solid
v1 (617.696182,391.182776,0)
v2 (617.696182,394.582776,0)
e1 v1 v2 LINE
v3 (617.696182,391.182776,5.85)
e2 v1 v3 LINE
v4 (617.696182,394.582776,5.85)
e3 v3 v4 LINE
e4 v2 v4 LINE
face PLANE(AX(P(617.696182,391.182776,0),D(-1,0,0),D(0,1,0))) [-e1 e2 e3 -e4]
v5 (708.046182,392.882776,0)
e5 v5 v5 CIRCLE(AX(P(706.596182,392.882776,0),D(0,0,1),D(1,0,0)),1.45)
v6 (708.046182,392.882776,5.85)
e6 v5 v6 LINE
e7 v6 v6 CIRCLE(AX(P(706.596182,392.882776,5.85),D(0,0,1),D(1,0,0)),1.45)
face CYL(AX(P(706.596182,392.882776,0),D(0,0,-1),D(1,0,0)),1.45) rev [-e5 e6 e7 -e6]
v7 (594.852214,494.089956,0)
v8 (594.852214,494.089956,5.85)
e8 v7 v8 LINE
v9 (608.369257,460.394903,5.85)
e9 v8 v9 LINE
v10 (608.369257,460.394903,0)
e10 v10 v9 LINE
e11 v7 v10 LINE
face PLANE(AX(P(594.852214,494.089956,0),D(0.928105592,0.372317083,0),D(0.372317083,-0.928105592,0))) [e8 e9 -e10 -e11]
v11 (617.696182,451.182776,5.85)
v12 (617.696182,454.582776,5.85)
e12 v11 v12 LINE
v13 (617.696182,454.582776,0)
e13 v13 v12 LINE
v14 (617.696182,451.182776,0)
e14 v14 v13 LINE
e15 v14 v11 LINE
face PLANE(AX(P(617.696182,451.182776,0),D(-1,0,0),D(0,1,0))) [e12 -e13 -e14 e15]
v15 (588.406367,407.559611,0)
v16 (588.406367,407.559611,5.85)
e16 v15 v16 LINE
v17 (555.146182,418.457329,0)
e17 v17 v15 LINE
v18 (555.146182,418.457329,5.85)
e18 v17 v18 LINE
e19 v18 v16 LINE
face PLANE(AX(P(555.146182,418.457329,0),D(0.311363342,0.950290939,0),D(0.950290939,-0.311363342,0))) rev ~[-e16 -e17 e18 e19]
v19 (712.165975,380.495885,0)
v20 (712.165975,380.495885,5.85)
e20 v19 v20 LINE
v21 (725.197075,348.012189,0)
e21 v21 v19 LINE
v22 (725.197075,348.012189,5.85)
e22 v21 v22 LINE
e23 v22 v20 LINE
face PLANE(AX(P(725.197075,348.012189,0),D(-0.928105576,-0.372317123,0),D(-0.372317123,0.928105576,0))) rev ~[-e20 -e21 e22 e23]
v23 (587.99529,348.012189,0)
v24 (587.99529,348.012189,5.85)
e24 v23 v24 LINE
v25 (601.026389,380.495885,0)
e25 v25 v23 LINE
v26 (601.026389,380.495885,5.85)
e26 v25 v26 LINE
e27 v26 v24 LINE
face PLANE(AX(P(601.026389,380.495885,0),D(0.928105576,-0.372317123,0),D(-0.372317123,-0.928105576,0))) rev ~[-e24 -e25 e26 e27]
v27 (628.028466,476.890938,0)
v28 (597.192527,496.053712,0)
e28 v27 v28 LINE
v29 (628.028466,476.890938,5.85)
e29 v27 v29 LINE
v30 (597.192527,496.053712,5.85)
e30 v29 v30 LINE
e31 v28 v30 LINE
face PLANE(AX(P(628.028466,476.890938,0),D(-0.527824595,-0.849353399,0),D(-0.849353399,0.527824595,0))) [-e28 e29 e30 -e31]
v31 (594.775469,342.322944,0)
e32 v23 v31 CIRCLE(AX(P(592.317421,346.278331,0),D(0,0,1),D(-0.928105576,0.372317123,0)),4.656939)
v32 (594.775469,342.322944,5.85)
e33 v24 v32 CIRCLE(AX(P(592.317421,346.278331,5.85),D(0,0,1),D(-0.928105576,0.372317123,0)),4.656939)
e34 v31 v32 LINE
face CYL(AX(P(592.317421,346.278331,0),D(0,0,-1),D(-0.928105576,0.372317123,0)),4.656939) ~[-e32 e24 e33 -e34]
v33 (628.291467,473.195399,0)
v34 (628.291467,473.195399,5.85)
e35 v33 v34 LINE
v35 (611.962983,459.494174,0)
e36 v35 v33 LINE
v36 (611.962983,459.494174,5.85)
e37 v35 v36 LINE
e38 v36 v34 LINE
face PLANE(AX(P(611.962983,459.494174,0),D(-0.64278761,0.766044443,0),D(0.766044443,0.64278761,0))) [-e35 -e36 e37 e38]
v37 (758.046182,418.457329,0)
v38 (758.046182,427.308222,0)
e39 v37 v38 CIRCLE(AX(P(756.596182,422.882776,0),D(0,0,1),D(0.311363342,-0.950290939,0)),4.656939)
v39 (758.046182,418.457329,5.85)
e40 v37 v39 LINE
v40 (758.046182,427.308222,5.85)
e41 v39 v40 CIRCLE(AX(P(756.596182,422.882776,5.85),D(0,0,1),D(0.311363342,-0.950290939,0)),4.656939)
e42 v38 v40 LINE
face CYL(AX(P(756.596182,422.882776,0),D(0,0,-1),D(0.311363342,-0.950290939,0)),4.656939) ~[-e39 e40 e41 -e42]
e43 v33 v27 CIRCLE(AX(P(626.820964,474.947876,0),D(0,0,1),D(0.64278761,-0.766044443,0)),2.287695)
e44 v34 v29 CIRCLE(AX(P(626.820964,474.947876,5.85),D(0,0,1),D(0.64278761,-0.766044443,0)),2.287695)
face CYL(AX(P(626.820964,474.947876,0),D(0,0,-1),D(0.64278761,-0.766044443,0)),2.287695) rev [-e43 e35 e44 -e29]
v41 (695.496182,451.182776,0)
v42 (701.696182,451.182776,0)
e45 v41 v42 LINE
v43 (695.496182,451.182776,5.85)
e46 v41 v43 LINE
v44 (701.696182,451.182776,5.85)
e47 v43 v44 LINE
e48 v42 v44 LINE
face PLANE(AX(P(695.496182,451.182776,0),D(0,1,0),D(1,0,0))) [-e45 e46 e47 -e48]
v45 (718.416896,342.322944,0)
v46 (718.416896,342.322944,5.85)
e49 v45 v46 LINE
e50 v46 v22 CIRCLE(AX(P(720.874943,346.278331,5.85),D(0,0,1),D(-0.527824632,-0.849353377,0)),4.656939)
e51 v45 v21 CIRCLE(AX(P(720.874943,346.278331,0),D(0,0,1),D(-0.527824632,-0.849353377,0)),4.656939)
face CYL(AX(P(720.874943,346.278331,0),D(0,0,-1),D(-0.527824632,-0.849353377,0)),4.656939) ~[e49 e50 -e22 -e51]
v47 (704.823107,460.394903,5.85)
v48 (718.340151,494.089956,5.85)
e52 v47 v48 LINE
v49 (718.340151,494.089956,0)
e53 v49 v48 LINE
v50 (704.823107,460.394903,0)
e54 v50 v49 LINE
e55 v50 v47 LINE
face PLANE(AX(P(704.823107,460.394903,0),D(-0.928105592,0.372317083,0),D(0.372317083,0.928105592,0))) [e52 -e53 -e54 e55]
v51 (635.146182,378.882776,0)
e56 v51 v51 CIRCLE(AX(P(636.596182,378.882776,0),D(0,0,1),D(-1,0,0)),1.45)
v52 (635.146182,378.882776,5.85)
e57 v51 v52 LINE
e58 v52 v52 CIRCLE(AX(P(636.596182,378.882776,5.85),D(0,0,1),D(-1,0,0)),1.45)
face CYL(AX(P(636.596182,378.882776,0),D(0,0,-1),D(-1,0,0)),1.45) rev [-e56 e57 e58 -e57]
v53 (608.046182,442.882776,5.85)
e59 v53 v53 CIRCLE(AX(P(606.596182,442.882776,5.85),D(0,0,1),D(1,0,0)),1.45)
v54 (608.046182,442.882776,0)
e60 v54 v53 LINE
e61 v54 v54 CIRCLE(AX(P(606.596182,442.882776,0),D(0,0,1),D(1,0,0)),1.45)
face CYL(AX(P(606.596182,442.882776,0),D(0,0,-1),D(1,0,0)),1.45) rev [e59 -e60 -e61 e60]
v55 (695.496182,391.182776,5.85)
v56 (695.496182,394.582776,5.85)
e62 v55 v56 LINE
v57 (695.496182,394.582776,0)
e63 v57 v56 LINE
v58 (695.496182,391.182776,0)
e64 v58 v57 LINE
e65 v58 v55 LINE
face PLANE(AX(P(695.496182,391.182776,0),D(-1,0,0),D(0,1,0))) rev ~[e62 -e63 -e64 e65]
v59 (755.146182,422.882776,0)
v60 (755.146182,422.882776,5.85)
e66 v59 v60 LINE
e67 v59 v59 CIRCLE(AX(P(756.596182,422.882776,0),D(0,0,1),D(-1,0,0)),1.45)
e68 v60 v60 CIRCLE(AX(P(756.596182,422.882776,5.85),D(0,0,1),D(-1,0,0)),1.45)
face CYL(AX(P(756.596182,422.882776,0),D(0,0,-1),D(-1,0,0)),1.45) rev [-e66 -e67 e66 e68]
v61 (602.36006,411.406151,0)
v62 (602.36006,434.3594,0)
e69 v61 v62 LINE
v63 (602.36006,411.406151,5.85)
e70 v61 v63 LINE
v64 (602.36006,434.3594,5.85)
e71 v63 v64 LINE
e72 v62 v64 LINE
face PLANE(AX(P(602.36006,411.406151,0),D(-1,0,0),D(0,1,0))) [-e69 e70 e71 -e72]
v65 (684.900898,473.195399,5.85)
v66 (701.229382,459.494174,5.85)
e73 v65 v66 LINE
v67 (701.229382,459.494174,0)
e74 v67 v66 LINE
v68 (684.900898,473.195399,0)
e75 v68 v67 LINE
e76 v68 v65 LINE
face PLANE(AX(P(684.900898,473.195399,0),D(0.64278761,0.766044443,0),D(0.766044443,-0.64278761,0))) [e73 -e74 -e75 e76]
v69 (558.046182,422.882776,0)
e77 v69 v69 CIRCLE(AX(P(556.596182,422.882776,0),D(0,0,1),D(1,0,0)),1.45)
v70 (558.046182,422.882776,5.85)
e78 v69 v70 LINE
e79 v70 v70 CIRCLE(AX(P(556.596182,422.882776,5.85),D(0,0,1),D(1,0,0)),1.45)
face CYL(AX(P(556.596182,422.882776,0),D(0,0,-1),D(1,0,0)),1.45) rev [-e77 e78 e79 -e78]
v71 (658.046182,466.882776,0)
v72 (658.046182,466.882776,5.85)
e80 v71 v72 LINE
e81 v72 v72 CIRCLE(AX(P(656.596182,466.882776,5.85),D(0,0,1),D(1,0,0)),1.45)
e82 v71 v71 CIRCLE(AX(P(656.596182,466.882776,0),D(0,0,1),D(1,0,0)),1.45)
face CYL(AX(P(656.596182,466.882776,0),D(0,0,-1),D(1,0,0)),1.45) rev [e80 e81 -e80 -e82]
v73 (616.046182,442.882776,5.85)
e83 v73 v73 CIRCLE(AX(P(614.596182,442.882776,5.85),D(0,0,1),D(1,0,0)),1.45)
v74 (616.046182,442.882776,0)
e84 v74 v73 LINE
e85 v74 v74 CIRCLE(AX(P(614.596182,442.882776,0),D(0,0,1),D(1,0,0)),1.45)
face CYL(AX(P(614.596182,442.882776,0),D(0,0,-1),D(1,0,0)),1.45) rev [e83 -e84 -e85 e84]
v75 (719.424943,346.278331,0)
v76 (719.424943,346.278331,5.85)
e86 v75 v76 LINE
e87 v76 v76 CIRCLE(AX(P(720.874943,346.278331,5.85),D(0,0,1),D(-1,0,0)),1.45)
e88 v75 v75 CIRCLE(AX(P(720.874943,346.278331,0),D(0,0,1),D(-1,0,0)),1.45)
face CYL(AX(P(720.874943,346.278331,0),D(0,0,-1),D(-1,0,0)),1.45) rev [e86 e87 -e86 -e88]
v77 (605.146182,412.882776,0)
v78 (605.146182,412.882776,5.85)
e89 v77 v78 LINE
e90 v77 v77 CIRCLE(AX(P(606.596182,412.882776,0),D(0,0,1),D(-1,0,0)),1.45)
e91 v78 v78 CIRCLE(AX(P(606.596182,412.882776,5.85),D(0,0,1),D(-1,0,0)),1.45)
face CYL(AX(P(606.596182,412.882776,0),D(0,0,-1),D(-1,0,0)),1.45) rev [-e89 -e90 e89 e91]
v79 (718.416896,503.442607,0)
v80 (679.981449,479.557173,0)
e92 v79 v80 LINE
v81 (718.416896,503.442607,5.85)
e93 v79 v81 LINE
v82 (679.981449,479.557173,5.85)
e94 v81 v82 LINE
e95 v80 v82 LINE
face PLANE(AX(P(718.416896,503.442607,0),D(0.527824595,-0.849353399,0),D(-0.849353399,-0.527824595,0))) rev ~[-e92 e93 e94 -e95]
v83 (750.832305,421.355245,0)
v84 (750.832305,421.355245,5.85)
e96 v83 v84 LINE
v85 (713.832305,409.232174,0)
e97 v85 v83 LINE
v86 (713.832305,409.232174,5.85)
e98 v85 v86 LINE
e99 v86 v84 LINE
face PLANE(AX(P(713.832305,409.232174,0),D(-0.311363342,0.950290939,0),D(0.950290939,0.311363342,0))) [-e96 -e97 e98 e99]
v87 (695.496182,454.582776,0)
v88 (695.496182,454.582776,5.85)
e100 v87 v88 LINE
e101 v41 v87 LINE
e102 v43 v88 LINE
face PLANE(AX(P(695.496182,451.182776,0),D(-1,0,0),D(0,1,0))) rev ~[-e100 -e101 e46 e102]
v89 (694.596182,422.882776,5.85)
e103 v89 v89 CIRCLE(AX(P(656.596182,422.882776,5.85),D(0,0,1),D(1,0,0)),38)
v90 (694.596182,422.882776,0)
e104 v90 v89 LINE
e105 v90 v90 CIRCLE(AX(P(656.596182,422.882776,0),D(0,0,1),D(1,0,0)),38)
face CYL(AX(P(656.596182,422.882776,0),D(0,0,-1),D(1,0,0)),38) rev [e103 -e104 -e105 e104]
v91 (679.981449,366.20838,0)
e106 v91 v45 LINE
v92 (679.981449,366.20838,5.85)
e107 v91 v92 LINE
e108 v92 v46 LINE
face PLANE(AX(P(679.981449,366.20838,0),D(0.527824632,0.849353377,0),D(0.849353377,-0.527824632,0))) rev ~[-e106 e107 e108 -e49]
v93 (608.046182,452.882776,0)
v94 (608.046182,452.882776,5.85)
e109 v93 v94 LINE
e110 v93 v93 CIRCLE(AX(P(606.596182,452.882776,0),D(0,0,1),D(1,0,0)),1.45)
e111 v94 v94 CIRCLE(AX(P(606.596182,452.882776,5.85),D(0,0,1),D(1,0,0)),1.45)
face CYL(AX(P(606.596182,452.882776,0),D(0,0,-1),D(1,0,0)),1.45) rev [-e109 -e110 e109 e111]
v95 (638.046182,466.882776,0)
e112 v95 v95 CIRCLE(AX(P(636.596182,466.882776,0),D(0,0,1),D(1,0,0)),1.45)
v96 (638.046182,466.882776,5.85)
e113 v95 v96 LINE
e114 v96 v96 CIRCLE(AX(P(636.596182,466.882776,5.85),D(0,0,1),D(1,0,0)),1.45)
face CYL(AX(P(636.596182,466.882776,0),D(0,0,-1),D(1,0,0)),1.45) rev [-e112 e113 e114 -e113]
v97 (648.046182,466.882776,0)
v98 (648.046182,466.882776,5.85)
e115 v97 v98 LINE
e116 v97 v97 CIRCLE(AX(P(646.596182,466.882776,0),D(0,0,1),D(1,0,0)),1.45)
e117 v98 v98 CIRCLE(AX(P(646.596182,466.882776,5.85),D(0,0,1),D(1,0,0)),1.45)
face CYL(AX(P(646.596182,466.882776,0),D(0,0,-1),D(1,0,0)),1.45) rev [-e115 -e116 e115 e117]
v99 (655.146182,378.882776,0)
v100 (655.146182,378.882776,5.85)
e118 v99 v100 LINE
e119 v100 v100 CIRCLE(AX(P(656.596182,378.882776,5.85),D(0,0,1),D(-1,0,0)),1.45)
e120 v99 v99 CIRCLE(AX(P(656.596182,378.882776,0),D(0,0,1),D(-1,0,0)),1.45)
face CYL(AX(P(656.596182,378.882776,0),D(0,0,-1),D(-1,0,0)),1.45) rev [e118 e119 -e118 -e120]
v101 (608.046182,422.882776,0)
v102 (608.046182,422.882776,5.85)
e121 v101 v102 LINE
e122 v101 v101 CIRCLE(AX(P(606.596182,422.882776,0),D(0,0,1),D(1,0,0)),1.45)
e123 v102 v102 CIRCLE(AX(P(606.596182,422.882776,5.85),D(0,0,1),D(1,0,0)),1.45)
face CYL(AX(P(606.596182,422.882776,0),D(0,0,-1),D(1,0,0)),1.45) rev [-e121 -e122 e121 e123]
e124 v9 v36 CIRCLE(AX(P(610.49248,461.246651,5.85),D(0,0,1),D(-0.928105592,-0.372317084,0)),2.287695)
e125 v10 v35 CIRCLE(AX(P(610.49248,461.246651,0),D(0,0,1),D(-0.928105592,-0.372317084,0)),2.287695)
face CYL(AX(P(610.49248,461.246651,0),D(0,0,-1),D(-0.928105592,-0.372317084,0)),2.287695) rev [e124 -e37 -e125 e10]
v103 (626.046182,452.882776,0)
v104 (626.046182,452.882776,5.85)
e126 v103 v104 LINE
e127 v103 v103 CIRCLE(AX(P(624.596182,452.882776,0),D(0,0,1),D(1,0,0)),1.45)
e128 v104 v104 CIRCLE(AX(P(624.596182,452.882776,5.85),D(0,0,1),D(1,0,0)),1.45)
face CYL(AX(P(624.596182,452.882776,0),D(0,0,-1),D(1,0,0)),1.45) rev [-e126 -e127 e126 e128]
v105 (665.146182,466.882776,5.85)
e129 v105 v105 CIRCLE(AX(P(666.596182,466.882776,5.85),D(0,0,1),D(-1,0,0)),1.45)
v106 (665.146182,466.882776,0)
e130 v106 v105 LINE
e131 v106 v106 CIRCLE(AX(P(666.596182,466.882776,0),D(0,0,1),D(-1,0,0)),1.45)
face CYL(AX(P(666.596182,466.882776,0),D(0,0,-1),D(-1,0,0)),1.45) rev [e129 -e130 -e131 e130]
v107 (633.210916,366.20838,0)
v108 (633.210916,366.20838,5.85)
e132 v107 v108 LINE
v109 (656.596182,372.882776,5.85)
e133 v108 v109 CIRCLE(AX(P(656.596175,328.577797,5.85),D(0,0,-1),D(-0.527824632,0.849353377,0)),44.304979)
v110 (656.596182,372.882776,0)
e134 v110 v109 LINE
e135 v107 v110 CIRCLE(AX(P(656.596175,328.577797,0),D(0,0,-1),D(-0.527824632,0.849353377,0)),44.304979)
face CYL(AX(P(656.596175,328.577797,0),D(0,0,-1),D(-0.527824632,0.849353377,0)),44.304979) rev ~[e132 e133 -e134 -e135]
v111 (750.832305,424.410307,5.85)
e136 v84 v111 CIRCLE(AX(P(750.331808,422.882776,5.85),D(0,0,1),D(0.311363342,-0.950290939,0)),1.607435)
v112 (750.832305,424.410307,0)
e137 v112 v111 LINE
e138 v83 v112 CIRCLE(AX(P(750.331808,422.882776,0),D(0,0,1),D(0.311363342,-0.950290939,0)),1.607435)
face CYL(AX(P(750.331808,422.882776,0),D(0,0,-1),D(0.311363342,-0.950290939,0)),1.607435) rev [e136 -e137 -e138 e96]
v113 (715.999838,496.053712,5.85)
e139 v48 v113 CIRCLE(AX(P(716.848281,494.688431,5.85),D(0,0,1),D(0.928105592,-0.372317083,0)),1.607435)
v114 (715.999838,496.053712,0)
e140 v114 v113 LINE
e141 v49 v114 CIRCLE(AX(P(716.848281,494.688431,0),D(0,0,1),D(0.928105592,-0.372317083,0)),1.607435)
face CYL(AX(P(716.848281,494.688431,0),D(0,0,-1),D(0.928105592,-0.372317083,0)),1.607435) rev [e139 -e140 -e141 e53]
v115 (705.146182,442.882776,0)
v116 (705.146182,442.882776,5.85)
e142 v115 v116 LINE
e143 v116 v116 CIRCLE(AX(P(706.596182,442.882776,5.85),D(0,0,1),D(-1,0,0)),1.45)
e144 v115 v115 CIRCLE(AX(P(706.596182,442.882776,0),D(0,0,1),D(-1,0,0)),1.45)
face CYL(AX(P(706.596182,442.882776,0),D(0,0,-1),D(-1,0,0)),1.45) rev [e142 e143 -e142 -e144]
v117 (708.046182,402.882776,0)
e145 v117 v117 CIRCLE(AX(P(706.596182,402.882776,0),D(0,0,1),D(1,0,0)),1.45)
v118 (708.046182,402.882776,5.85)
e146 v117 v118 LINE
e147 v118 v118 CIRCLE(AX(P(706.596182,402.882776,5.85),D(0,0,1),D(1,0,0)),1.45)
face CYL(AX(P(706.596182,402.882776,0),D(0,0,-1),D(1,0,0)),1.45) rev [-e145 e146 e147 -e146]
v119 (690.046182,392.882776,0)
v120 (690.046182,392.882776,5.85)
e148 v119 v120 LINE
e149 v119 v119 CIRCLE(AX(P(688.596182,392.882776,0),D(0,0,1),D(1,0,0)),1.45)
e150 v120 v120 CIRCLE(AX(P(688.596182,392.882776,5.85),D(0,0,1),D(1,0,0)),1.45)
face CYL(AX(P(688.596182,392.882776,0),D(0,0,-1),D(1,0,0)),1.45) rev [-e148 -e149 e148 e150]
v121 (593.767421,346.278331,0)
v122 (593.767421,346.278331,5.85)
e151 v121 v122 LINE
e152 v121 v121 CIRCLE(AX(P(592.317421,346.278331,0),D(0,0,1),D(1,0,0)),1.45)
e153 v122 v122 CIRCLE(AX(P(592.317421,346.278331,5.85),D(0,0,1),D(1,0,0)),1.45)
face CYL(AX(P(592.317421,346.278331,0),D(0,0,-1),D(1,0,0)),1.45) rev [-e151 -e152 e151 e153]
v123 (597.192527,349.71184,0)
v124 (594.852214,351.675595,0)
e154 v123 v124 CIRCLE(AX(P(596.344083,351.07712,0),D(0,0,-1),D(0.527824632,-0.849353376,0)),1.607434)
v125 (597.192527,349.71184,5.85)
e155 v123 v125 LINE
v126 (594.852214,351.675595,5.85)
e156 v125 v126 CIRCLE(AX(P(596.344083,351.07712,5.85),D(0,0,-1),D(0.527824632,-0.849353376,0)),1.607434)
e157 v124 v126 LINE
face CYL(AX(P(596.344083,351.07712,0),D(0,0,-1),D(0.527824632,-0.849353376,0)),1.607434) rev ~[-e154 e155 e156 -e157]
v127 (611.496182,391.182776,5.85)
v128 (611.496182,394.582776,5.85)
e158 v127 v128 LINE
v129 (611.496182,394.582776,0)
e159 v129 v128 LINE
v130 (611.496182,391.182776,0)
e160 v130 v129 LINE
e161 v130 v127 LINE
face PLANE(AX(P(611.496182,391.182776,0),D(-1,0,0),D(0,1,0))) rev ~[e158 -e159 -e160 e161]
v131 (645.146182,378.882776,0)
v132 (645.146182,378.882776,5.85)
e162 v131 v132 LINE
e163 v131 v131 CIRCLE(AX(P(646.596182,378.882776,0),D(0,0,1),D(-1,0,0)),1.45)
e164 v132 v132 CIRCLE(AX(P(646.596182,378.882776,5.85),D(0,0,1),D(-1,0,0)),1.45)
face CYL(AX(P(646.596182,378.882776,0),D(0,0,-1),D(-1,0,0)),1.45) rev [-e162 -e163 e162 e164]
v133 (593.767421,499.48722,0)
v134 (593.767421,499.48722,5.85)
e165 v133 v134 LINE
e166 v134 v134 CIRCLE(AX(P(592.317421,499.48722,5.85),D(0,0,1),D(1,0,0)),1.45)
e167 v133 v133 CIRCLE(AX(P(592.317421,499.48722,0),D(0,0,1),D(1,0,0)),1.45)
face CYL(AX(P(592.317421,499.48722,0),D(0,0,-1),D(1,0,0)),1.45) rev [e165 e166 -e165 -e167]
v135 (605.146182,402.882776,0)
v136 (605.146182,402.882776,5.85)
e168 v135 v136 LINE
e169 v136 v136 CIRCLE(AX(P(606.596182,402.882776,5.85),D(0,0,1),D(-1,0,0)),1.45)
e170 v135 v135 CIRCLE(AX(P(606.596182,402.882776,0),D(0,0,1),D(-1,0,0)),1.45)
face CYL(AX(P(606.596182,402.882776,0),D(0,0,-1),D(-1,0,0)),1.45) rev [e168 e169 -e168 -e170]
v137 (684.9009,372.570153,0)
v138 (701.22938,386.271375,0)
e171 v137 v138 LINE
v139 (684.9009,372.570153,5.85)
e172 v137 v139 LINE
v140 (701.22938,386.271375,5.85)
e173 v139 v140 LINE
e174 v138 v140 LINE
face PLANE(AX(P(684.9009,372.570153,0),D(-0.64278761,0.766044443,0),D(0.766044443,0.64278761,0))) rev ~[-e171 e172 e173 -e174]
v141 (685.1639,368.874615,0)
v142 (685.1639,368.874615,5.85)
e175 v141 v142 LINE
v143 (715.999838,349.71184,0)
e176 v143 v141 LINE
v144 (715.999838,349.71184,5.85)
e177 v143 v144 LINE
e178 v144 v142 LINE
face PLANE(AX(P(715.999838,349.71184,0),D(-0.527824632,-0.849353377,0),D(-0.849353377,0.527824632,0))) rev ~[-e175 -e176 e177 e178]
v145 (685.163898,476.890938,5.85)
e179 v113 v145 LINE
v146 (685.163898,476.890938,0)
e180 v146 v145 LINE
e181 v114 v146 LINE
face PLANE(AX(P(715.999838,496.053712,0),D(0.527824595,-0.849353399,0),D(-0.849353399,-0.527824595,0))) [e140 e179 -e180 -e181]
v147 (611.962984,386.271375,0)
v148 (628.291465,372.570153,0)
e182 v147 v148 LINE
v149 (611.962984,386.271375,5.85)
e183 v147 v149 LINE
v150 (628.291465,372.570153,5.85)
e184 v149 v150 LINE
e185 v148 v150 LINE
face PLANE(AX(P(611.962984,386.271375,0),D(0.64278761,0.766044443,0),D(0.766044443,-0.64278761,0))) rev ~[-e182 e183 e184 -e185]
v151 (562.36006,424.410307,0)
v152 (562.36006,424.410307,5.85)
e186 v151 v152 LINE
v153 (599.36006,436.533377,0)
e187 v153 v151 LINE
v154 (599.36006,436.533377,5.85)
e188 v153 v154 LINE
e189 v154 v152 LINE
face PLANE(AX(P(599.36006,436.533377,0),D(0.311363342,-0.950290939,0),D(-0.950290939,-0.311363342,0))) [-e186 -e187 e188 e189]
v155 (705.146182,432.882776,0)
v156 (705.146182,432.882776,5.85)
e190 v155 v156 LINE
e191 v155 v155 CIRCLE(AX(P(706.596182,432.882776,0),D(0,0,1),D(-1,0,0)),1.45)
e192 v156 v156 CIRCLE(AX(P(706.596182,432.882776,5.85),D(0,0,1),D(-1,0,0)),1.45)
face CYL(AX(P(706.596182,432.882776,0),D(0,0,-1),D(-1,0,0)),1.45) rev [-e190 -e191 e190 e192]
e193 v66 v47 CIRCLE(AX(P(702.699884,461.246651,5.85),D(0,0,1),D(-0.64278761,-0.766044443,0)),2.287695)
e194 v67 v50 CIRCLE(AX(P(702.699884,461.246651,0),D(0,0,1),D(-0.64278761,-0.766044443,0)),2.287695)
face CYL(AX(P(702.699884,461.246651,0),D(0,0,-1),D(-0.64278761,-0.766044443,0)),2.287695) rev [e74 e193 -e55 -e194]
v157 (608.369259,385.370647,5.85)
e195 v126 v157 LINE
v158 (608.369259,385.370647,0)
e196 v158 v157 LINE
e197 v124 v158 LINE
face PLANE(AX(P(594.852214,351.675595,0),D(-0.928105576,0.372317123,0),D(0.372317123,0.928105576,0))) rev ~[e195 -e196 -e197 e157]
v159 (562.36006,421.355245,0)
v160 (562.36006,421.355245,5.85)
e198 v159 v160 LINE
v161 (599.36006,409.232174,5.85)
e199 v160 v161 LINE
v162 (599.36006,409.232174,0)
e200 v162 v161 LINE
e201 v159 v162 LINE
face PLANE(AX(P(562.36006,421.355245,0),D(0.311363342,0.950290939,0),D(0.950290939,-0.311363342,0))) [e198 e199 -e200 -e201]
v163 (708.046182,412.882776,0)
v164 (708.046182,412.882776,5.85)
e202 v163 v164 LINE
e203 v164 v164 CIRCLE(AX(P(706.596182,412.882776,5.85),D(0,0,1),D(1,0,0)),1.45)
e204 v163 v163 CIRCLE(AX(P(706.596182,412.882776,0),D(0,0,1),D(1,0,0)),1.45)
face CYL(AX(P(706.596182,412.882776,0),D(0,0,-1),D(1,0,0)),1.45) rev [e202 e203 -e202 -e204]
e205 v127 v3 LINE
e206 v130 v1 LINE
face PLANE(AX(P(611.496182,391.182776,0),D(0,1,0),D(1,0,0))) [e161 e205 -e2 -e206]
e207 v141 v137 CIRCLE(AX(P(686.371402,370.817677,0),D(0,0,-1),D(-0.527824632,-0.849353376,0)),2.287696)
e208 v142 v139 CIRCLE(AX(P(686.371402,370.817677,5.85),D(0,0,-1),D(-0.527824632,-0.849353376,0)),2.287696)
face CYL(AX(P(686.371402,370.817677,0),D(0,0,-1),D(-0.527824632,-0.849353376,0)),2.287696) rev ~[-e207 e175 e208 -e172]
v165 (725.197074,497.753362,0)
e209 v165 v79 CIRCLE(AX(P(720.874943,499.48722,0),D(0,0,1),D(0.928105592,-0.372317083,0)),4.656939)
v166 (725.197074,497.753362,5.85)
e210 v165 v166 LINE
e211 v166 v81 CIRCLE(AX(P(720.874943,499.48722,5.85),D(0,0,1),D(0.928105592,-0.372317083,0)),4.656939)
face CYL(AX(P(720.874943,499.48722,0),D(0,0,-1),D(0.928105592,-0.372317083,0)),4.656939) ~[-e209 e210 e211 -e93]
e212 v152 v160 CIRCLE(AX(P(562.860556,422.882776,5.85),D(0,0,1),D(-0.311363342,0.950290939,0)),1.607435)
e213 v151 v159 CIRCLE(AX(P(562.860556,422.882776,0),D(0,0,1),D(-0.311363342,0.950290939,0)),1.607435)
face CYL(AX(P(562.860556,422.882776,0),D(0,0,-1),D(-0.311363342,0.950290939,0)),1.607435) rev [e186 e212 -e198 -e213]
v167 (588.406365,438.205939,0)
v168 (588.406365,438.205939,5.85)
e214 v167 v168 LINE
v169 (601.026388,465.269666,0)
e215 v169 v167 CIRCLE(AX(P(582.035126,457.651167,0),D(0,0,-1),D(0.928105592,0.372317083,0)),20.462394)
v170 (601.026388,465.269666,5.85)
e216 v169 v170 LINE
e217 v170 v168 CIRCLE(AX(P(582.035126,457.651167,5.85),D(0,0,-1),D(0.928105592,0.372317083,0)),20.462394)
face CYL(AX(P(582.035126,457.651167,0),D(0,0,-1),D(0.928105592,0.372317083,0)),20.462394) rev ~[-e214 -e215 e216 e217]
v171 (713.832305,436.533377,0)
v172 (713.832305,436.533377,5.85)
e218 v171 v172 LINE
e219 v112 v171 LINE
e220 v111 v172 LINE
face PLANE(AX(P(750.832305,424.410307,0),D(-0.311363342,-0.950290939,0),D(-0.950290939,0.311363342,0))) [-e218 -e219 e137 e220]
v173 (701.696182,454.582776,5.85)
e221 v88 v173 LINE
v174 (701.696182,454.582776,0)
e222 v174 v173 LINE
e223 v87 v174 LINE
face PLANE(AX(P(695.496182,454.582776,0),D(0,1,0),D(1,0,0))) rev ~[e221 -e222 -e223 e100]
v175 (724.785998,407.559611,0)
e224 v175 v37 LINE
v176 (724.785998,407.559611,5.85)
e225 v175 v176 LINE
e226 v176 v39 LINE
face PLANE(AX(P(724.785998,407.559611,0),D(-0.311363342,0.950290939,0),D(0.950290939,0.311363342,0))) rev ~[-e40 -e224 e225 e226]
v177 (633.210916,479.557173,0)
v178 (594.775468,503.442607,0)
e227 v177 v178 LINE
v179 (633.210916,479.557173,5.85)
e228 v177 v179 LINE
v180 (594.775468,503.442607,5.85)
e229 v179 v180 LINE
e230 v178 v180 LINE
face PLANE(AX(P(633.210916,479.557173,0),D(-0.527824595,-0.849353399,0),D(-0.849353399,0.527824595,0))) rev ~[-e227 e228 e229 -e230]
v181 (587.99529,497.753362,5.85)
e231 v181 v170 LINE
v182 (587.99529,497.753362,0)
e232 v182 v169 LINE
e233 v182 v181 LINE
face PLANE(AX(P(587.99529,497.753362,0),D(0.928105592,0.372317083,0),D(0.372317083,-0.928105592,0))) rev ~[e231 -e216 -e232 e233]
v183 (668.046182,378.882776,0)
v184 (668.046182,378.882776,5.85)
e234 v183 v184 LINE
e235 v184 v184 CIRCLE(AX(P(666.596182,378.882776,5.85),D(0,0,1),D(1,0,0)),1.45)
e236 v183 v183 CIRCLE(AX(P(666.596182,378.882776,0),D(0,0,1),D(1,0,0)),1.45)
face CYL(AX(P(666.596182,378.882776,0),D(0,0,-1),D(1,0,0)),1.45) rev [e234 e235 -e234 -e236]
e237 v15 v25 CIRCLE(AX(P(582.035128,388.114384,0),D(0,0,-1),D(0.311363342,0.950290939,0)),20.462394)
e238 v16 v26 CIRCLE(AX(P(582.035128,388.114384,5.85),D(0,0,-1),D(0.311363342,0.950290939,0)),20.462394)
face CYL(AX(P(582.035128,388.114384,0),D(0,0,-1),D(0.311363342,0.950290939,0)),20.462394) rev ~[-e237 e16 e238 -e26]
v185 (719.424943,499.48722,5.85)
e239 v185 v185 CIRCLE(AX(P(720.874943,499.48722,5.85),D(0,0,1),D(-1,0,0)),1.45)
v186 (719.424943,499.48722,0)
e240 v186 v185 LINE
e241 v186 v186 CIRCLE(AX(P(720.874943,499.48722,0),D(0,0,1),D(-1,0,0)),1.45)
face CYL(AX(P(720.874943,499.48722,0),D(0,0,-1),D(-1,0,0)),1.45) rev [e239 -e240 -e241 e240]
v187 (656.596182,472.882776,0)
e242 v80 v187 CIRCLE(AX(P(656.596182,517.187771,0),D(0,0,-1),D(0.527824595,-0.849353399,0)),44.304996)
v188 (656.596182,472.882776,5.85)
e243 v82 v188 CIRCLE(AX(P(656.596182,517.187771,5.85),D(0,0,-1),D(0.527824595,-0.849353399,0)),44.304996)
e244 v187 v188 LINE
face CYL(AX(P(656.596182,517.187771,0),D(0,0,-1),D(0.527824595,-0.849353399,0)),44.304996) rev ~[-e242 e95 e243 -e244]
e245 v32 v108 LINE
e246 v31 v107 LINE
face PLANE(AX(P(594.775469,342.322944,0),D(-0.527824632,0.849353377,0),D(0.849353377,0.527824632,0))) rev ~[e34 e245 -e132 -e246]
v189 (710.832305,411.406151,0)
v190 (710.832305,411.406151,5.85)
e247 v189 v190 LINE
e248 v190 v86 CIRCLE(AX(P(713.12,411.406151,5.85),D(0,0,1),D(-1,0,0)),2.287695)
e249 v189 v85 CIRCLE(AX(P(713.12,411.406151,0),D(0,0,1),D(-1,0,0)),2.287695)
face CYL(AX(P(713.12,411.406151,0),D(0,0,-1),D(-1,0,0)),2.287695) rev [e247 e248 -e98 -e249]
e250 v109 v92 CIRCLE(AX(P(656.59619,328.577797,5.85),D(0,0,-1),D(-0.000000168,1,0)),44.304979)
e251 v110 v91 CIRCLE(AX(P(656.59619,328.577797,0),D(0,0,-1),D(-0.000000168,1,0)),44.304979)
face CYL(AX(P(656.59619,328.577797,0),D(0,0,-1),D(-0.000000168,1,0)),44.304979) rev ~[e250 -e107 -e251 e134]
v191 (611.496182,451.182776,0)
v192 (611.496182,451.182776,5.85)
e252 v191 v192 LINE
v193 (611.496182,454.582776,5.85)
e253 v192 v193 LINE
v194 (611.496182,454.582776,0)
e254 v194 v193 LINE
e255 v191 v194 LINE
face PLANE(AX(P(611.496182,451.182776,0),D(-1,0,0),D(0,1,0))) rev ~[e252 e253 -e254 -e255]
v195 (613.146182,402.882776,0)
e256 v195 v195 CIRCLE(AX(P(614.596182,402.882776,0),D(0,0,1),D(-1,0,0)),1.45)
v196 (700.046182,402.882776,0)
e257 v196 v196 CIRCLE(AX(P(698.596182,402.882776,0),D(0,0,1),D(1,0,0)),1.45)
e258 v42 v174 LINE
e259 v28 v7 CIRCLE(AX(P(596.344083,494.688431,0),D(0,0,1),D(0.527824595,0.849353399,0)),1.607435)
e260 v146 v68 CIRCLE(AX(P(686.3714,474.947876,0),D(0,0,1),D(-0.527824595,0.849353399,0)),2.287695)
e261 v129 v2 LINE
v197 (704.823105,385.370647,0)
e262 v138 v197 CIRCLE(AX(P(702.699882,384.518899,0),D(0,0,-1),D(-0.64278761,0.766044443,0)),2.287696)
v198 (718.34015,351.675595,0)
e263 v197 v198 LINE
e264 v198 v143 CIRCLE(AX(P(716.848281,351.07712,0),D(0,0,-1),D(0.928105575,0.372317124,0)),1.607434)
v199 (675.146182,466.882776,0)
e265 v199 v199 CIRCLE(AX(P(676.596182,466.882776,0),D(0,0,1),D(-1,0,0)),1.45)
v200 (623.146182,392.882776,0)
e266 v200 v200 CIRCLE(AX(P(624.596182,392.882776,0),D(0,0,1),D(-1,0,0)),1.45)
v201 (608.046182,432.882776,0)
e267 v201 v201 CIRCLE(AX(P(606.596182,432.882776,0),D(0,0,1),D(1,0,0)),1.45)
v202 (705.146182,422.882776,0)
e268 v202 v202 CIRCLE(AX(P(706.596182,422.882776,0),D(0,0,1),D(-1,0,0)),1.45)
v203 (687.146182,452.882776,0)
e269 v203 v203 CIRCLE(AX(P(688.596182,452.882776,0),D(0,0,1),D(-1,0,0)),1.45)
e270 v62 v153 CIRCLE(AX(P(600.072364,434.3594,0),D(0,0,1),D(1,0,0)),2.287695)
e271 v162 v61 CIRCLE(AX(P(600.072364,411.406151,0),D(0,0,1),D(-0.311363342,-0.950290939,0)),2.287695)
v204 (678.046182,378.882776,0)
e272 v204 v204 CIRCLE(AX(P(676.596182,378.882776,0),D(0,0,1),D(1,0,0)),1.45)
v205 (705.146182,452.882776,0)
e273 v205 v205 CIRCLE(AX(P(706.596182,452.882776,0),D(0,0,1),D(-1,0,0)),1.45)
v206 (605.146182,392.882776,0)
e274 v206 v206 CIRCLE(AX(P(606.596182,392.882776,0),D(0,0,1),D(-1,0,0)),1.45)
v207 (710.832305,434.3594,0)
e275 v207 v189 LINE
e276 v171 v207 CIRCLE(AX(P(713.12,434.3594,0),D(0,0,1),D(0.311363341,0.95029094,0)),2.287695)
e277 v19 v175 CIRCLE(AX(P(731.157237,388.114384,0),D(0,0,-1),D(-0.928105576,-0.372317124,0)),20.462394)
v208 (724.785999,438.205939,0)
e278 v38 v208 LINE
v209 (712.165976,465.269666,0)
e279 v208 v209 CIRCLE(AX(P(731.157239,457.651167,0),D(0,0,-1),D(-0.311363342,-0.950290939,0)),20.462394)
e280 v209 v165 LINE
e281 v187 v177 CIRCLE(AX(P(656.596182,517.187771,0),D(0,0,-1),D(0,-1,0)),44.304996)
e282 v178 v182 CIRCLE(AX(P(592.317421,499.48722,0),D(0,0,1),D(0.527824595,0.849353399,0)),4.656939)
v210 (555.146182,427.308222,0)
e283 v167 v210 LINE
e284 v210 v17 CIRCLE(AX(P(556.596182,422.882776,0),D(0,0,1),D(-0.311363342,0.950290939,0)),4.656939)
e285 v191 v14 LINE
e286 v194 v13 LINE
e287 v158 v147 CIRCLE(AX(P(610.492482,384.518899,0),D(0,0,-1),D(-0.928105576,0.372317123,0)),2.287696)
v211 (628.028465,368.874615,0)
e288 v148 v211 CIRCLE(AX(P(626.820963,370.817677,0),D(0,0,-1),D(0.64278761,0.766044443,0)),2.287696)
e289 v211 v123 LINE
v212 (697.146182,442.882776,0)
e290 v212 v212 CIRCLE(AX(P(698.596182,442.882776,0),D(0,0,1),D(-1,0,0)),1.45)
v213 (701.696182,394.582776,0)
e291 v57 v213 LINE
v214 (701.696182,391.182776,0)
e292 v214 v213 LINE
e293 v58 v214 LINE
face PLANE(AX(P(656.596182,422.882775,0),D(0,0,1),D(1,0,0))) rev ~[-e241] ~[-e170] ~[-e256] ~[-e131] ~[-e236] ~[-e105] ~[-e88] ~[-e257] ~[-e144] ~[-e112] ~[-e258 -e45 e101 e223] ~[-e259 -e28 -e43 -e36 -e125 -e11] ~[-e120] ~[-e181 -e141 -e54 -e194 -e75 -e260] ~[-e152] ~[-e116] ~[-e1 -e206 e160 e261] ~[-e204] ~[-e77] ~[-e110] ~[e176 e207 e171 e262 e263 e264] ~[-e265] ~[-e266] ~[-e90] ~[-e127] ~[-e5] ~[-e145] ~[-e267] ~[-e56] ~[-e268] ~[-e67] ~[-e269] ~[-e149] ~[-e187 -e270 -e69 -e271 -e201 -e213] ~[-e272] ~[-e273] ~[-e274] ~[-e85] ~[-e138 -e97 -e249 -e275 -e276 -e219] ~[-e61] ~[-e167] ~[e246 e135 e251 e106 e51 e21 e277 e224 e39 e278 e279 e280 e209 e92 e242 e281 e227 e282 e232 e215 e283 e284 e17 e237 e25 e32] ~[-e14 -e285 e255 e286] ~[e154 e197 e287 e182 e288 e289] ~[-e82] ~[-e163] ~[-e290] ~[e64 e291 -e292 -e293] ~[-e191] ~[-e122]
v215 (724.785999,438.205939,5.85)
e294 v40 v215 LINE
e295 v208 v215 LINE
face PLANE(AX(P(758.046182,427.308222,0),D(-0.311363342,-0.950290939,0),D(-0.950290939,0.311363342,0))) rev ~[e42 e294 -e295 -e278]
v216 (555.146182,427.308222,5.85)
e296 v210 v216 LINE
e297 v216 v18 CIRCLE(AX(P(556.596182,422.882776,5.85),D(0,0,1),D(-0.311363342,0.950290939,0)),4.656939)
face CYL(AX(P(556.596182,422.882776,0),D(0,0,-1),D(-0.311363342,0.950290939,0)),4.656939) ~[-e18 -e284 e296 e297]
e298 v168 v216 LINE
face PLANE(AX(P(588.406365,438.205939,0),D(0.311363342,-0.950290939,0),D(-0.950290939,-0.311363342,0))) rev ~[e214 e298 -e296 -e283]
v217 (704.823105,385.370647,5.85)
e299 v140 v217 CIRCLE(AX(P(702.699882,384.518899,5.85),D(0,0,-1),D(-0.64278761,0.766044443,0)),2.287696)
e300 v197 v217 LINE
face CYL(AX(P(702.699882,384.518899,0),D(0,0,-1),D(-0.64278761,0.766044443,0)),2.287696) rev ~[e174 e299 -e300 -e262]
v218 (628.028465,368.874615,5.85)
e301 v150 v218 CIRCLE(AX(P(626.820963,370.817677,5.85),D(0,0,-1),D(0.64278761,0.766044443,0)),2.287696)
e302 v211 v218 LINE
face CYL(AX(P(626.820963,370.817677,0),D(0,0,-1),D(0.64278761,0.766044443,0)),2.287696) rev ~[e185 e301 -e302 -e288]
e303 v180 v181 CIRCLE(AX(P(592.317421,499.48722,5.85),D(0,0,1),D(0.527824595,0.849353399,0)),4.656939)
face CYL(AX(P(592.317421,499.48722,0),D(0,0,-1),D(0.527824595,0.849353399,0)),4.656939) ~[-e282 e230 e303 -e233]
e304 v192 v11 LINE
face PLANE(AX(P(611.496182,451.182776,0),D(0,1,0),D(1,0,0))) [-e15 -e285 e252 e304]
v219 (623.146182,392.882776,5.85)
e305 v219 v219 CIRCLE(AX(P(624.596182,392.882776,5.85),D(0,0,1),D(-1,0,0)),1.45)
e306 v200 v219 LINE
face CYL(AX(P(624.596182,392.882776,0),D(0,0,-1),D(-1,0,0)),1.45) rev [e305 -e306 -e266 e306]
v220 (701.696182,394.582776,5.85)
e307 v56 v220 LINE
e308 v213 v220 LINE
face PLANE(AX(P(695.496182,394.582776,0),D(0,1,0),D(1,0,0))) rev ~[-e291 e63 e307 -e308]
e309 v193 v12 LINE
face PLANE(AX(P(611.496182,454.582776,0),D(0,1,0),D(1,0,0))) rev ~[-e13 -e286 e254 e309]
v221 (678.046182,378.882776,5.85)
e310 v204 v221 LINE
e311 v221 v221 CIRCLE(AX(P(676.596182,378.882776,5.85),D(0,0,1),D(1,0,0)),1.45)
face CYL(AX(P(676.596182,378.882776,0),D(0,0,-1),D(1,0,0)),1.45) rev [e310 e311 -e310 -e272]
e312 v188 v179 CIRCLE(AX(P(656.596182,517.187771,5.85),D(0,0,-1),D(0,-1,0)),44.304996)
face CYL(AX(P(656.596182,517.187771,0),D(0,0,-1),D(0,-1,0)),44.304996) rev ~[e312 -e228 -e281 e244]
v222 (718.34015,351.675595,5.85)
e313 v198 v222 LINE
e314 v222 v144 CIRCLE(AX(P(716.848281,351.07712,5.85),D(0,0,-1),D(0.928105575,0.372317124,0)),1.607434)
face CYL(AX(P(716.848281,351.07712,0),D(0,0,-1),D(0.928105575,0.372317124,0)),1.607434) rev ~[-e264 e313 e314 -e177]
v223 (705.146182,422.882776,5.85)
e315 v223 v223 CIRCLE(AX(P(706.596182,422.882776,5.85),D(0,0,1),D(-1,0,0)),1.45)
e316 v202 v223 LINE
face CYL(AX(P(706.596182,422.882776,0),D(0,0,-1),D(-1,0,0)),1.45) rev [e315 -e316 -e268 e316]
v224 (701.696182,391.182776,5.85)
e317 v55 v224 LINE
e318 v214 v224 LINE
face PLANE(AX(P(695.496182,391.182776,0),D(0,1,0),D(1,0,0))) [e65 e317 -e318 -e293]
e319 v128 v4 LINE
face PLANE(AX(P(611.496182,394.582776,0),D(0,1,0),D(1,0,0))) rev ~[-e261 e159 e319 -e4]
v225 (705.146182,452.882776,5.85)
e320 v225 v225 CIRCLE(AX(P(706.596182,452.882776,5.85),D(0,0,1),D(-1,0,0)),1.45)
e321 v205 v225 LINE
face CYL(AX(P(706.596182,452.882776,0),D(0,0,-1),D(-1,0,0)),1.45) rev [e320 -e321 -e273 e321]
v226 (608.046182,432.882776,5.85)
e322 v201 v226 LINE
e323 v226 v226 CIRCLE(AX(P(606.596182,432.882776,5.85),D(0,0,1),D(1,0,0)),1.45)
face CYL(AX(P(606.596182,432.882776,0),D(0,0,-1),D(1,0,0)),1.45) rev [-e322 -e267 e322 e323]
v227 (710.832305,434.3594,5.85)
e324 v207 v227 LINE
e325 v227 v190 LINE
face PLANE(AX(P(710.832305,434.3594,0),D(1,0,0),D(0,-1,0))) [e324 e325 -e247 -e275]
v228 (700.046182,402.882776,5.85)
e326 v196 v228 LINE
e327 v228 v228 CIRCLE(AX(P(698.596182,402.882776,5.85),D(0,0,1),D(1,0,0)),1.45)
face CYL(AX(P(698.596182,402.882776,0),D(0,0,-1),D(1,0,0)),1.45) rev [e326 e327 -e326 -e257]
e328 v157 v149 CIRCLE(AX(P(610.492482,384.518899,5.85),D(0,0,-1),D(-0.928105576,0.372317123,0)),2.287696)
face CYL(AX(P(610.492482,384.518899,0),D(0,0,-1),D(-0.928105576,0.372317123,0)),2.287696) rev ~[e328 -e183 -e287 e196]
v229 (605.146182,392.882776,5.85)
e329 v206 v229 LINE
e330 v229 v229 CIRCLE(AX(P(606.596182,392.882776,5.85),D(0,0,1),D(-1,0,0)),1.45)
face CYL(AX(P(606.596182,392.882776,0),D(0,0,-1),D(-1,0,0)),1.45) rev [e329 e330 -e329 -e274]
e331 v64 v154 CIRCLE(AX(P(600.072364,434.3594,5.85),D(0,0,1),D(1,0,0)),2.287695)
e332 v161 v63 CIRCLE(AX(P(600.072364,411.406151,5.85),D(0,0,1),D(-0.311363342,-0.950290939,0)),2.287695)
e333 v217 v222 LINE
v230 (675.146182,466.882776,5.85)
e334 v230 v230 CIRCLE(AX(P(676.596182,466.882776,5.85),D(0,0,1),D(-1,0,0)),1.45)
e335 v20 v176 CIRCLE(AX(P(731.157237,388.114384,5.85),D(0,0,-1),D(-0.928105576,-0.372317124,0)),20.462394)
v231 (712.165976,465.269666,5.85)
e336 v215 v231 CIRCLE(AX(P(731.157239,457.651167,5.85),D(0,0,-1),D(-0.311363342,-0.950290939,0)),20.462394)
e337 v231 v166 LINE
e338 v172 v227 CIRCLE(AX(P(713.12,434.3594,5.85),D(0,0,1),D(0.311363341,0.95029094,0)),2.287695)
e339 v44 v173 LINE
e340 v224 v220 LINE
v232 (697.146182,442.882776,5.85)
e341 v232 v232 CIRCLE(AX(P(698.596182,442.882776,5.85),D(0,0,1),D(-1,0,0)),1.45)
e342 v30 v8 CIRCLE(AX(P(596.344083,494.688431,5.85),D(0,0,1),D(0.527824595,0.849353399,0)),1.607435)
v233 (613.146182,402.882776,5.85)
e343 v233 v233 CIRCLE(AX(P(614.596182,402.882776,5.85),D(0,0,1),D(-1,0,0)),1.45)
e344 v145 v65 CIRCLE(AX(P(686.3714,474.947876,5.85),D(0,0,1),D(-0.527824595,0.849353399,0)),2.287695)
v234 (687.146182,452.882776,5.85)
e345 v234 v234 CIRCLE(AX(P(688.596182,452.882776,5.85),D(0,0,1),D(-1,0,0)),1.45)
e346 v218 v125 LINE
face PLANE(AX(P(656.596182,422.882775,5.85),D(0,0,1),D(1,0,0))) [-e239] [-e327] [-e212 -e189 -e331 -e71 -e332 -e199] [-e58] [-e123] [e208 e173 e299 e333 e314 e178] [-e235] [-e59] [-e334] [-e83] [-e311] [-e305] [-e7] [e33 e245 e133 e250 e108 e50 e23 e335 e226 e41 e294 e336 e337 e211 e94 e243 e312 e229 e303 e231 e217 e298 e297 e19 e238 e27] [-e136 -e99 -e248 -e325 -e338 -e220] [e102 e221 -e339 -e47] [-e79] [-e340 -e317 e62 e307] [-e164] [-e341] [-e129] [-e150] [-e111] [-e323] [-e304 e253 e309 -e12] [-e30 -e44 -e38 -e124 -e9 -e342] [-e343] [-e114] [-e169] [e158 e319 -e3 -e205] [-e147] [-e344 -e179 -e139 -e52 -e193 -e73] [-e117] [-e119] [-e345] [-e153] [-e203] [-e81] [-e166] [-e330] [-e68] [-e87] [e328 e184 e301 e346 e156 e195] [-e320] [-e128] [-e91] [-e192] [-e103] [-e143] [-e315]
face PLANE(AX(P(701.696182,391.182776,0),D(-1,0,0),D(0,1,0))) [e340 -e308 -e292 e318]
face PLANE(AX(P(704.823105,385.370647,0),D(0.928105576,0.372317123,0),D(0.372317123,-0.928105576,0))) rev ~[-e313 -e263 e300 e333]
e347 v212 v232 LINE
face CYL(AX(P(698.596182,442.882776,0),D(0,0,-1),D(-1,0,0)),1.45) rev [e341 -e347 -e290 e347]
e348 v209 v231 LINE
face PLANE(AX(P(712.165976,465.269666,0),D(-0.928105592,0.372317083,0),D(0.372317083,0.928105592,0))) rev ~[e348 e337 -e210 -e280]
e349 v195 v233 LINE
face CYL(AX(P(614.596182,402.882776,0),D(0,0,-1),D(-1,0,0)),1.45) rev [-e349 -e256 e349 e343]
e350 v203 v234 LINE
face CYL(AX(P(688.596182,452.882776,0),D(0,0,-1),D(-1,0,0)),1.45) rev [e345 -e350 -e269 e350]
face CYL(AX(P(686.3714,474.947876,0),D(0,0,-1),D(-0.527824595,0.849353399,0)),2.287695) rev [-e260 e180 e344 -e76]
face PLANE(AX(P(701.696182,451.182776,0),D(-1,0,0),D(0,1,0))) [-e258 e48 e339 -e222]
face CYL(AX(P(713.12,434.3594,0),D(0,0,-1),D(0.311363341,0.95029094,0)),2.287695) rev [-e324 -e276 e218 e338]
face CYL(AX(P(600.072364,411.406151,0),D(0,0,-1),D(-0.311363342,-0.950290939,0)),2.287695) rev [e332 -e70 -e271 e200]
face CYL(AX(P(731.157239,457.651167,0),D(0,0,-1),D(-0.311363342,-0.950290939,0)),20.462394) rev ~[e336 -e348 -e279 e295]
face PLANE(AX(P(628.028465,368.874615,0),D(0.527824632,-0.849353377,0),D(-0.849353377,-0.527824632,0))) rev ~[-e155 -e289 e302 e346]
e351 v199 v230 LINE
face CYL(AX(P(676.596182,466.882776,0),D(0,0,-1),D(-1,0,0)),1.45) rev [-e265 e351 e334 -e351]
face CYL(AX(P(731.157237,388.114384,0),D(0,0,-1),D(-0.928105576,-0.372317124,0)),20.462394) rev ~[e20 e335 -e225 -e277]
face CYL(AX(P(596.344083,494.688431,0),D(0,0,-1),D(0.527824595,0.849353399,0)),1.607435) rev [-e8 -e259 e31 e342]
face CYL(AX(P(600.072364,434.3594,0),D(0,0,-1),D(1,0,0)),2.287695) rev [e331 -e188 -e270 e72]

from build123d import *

# Parameters (mm, degrees)
SKETCH1_R           = 1.450000006
SKETCH1_R_2         = 1.45
SKETCH1_R_3         = 38
SKETCH1_W           = 6.2
SKETCH1_H           = 3.4
BOSS_EXTRUDE1_DEPTH = 5.85


with BuildPart() as part:
    # Sketch1 → Boss-Extrude1 (new body)
    with BuildSketch(Plane.XY):
        with BuildLine():
            Line((587.995290395, 497.753361998), (601.026388312, 465.269666287))
            ThreePointArc((601.026388312, 465.269666287), (600.580353033, 449.003385667), (588.406365105, 438.205939183))
            Line((588.406365105, 438.205939183), (555.146182231, 427.30822221))
            ThreePointArc((555.146182231, 427.30822221), (551.939243509, 422.882775531), (555.146182231, 418.457328853))
            Line((555.146182231, 418.457328853), (588.406366938, 407.55961128))
            ThreePointArc((588.406366938, 407.55961128), (600.58035448, 396.762164902), (601.026389221, 380.495884628))
            Line((601.026389221, 380.495884628), (587.995289899, 348.01218948))
            ThreePointArc((587.995289899, 348.01218948), (589.32399836, 342.710908714), (594.775468563, 342.322944064))
            Line((594.775468563, 342.322944064), (633.210915705, 366.208380082))
            ThreePointArc((633.210915705, 366.208380082), (644.436635852, 371.181514399), (656.596182238, 372.882775531))
            ThreePointArc((656.596182238, 372.882775531), (668.755728624, 371.181514399), (679.981448771, 366.208380082))
            Line((679.981448771, 366.208380082), (718.416895913, 342.322944064))
            ThreePointArc((718.416895913, 342.322944064), (723.868366115, 342.710908714), (725.197074576, 348.01218948))
            Line((725.197074576, 348.01218948), (712.165975255, 380.495884628))
            ThreePointArc((712.165975255, 380.495884628), (712.612009996, 396.762164902), (724.785997538, 407.559611279))
            Line((724.785997538, 407.559611279), (758.046182244, 418.457328853))
            ThreePointArc((758.046182244, 418.457328853), (761.253120966, 422.882775531), (758.046182244, 427.30822221))
            Line((758.046182244, 427.30822221), (724.785999371, 438.205939183))
            ThreePointArc((724.785999371, 438.205939183), (712.612011443, 449.003385667), (712.165976164, 465.269666287))
            Line((712.165976164, 465.269666287), (725.197074081, 497.753361998))
            ThreePointArc((725.197074081, 497.753361998), (723.86836572, 503.054641878), (718.416896408, 503.442606583))
            Line((718.416896408, 503.442606583), (679.981448771, 479.557172561))
            ThreePointArc((679.981448771, 479.557172561), (668.755728555, 474.584038083), (656.596182238, 472.882775531))
            ThreePointArc((656.596182238, 472.882775531), (644.436635921, 474.584038083), (633.210915705, 479.557172561))
            Line((633.210915705, 479.557172561), (594.775468067, 503.442606583))
            ThreePointArc((594.775468067, 503.442606583), (589.323998755, 503.054641878), (587.995290395, 497.753361998))
        make_face()
        with Locations((592.317421269, 499.487219843)):
            Circle(SKETCH1_R, mode=Mode.SUBTRACT)
        with Locations(Location((706.596182238, 432.882775531, 0), (0, 0, 180))):
            Circle(SKETCH1_R_2, mode=Mode.SUBTRACT)
        with Locations(Location((706.596182238, 442.882775531, 0), (0, 0, 180))):
            Circle(SKETCH1_R_2, mode=Mode.SUBTRACT)
        with Locations(Location((706.596182238, 452.882775531, 0), (0, 0, 180))):
            Circle(SKETCH1_R_2, mode=Mode.SUBTRACT)
        with Locations((706.596182238, 392.882775531)):
            Circle(SKETCH1_R_2, mode=Mode.SUBTRACT)
        with Locations((556.596182238, 422.882775531)):
            Circle(SKETCH1_R, mode=Mode.SUBTRACT)
        with Locations(Location((646.596182238, 378.882775531, 0), (0, 0, 180))):
            Circle(SKETCH1_R_2, mode=Mode.SUBTRACT)
        with Locations((656.596182238, 422.882775531)):
            Circle(SKETCH1_R_3, mode=Mode.SUBTRACT)
        with Locations(Location((636.596182238, 378.882775531, 0), (0, 0, 180))):
            Circle(SKETCH1_R_2, mode=Mode.SUBTRACT)
        with Locations((706.596182238, 402.882775531)):
            Circle(SKETCH1_R_2, mode=Mode.SUBTRACT)
        with Locations((656.596182238, 466.882775531)):
            Circle(SKETCH1_R_2, mode=Mode.SUBTRACT)
        with Locations((592.317421269, 346.278331219)):
            Circle(SKETCH1_R, mode=Mode.SUBTRACT)
        with Locations((706.596182238, 412.882775531)):
            Circle(SKETCH1_R_2, mode=Mode.SUBTRACT)
        with Locations(Location((656.596182238, 378.882775531, 0), (0, 0, 180))):
            Circle(SKETCH1_R_2, mode=Mode.SUBTRACT)
        with Locations(Location((698.596182238, 442.882775531, 0), (0, 0, 180))):
            Circle(SKETCH1_R_2, mode=Mode.SUBTRACT)
        with Locations((698.596182238, 402.882775531)):
            Circle(SKETCH1_R_2, mode=Mode.SUBTRACT)
        with Locations((646.596182238, 466.882775531)):
            Circle(SKETCH1_R_2, mode=Mode.SUBTRACT)
        with Locations((636.596182238, 466.882775531)):
            Circle(SKETCH1_R_2, mode=Mode.SUBTRACT)
        with Locations(Location((676.596182238, 466.882775531, 0), (0, 0, 180))):
            Circle(SKETCH1_R_2, mode=Mode.SUBTRACT)
        with Locations(Location((666.596182238, 466.882775531, 0), (0, 0, 180))):
            Circle(SKETCH1_R_2, mode=Mode.SUBTRACT)
        with Locations(Location((706.596182238, 422.882775531, 0), (0, 0, 180))):
            Circle(SKETCH1_R_2, mode=Mode.SUBTRACT)
        with Locations(Location((688.596182238, 452.882775531, 0), (0, 0, 180))):
            Circle(SKETCH1_R_2, mode=Mode.SUBTRACT)
        with Locations((688.596182238, 392.882775531)):
            Circle(SKETCH1_R_2, mode=Mode.SUBTRACT)
        with Locations(Location((624.596182238, 392.882775531, 0), (0, 0, 180))):
            Circle(SKETCH1_R_2, mode=Mode.SUBTRACT)
        with Locations(Location((720.874943207, 346.278331219, 0), (0, 0, 180))):
            Circle(SKETCH1_R, mode=Mode.SUBTRACT)
        with Locations((676.596182238, 378.882775531)):
            Circle(SKETCH1_R_2, mode=Mode.SUBTRACT)
        with Locations((666.596182238, 378.882775531)):
            Circle(SKETCH1_R_2, mode=Mode.SUBTRACT)
        with Locations(Location((756.596182238, 422.882775531, 0), (0, 0, 180))):
            Circle(SKETCH1_R, mode=Mode.SUBTRACT)
        with Locations((624.596182238, 452.882775531)):
            Circle(SKETCH1_R_2, mode=Mode.SUBTRACT)
        with Locations((606.596182238, 422.882775531)):
            Circle(SKETCH1_R_2, mode=Mode.SUBTRACT)
        with Locations(Location((720.874943207, 499.487219843, 0), (0, 0, 180))):
            Circle(SKETCH1_R, mode=Mode.SUBTRACT)
        with Locations(Location((614.596182238, 402.882775531, 0), (0, 0, 180))):
            Circle(SKETCH1_R_2, mode=Mode.SUBTRACT)
        with Locations((614.596182238, 442.882775531)):
            Circle(SKETCH1_R_2, mode=Mode.SUBTRACT)
        with Locations(Location((606.596182238, 412.882775531, 0), (0, 0, 180))):
            Circle(SKETCH1_R_2, mode=Mode.SUBTRACT)
        with Locations(Location((606.596182238, 402.882775531, 0), (0, 0, 180))):
            Circle(SKETCH1_R_2, mode=Mode.SUBTRACT)
        with Locations(Location((606.596182238, 392.882775531, 0), (0, 0, 180))):
            Circle(SKETCH1_R_2, mode=Mode.SUBTRACT)
        with Locations((606.596182238, 452.882775531)):
            Circle(SKETCH1_R_2, mode=Mode.SUBTRACT)
        with Locations((606.596182238, 442.882775531)):
            Circle(SKETCH1_R_2, mode=Mode.SUBTRACT)
        with Locations((606.596182238, 432.882775531)):
            Circle(SKETCH1_R_2, mode=Mode.SUBTRACT)
        with BuildLine():
            Line((594.852213644, 494.089955534), (608.369257372, 460.394902501))
            ThreePointArc((608.369257372, 460.394902501), (609.936297881, 459.027594122), (611.962982661, 459.494174197))
            Line((611.962982661, 459.494174197), (628.291466753, 473.195399177))
            ThreePointArc((628.291466753, 473.195399177), (629.102888547, 475.11027328), (628.028466383, 476.890937531))
            Line((628.028466383, 476.890937531), (597.192526929, 496.053711548))
            ThreePointArc((597.192526929, 496.053711548), (595.310843783, 495.919797808), (594.852213644, 494.089955534))
        make_face(mode=Mode.SUBTRACT)
        with Locations((698.596182238, 392.882775531)):
            Rectangle(SKETCH1_W, SKETCH1_H, mode=Mode.SUBTRACT)
        with BuildLine():
            Line((562.360059701, 421.35524452), (599.360059701, 409.232174436))
            ThreePointArc((599.360059701, 409.232174436), (601.41475291, 409.553708225), (602.360059701, 411.406150729))
            Line((602.360059701, 411.406150729), (602.360059701, 434.359400333))
            ThreePointArc((602.360059701, 434.359400333), (601.41475291, 436.211842837), (599.360059701, 436.533376627))
            Line((599.360059701, 436.533376627), (562.360059701, 424.410306542))
            ThreePointArc((562.360059701, 424.410306542), (561.253120966, 422.882775531), (562.360059701, 421.35524452))
        make_face(mode=Mode.SUBTRACT)
        with BuildLine():
            Line((594.85221424, 351.675595364), (608.369259134, 385.370647084))
            ThreePointArc((608.369259134, 385.370647084), (609.936299703, 386.737955426), (611.962984497, 386.271375324))
            Line((611.962984497, 386.271375324), (628.291464916, 372.570153427))
            ThreePointArc((628.291464916, 372.570153427), (629.102886739, 370.655279313), (628.028464622, 368.874615009))
            Line((628.028464622, 368.874615009), (597.192526664, 349.711840073))
            ThreePointArc((597.192526664, 349.711840073), (595.310844178, 349.845753725), (594.85221424, 351.675595364))
        make_face(mode=Mode.SUBTRACT)
        with Locations((614.596182238, 452.882775531)):
            Rectangle(SKETCH1_W, SKETCH1_H, mode=Mode.SUBTRACT)
        with Locations((698.596182238, 452.882775531)):
            Rectangle(SKETCH1_W, SKETCH1_H, mode=Mode.SUBTRACT)
        with BuildLine():
            Line((715.999837812, 349.711840073), (685.163899854, 368.874615009))
            ThreePointArc((685.163899854, 368.874615009), (684.089477737, 370.655279313), (684.900899559, 372.570153427))
            Line((684.900899559, 372.570153427), (701.229379978, 386.271375324))
            ThreePointArc((701.229379978, 386.271375324), (703.256064773, 386.737955426), (704.823105342, 385.370647084))
            Line((704.823105342, 385.370647084), (718.340150235, 351.675595364))
            ThreePointArc((718.340150235, 351.675595364), (717.881520298, 349.845753725), (715.999837812, 349.711840073))
        make_face(mode=Mode.SUBTRACT)
        with BuildLine():
            Line((750.832304774, 424.410306542), (713.832304774, 436.533376627))
            ThreePointArc((713.832304774, 436.533376627), (711.777611566, 436.211842837), (710.832304774, 434.359400333))
            Line((710.832304774, 434.359400333), (710.832304774, 411.406150729))
            ThreePointArc((710.832304774, 411.406150729), (711.777611565, 409.553708225), (713.832304774, 409.232174436))
            Line((713.832304774, 409.232174436), (750.832304774, 421.35524452))
            ThreePointArc((750.832304774, 421.35524452), (751.939243509, 422.882775531), (750.832304774, 424.410306542))
        make_face(mode=Mode.SUBTRACT)
        with BuildLine():
            Line((684.900897722, 473.195399177), (701.229381815, 459.494174197))
            ThreePointArc((701.229381815, 459.494174197), (703.256066594, 459.027594122), (704.823107103, 460.394902501))
            Line((704.823107103, 460.394902501), (718.340150832, 494.089955534))
            ThreePointArc((718.340150832, 494.089955534), (717.881520693, 495.919797808), (715.999837547, 496.053711548))
            Line((715.999837547, 496.053711548), (685.163898093, 476.890937531))
            ThreePointArc((685.163898093, 476.890937531), (684.089475929, 475.11027328), (684.900897722, 473.195399177))
        make_face(mode=Mode.SUBTRACT)
        with Locations((614.596182238, 392.882775531)):
            Rectangle(SKETCH1_W, SKETCH1_H, mode=Mode.SUBTRACT)
    extrude(amount=BOSS_EXTRUDE1_DEPTH)


solid = part.part
